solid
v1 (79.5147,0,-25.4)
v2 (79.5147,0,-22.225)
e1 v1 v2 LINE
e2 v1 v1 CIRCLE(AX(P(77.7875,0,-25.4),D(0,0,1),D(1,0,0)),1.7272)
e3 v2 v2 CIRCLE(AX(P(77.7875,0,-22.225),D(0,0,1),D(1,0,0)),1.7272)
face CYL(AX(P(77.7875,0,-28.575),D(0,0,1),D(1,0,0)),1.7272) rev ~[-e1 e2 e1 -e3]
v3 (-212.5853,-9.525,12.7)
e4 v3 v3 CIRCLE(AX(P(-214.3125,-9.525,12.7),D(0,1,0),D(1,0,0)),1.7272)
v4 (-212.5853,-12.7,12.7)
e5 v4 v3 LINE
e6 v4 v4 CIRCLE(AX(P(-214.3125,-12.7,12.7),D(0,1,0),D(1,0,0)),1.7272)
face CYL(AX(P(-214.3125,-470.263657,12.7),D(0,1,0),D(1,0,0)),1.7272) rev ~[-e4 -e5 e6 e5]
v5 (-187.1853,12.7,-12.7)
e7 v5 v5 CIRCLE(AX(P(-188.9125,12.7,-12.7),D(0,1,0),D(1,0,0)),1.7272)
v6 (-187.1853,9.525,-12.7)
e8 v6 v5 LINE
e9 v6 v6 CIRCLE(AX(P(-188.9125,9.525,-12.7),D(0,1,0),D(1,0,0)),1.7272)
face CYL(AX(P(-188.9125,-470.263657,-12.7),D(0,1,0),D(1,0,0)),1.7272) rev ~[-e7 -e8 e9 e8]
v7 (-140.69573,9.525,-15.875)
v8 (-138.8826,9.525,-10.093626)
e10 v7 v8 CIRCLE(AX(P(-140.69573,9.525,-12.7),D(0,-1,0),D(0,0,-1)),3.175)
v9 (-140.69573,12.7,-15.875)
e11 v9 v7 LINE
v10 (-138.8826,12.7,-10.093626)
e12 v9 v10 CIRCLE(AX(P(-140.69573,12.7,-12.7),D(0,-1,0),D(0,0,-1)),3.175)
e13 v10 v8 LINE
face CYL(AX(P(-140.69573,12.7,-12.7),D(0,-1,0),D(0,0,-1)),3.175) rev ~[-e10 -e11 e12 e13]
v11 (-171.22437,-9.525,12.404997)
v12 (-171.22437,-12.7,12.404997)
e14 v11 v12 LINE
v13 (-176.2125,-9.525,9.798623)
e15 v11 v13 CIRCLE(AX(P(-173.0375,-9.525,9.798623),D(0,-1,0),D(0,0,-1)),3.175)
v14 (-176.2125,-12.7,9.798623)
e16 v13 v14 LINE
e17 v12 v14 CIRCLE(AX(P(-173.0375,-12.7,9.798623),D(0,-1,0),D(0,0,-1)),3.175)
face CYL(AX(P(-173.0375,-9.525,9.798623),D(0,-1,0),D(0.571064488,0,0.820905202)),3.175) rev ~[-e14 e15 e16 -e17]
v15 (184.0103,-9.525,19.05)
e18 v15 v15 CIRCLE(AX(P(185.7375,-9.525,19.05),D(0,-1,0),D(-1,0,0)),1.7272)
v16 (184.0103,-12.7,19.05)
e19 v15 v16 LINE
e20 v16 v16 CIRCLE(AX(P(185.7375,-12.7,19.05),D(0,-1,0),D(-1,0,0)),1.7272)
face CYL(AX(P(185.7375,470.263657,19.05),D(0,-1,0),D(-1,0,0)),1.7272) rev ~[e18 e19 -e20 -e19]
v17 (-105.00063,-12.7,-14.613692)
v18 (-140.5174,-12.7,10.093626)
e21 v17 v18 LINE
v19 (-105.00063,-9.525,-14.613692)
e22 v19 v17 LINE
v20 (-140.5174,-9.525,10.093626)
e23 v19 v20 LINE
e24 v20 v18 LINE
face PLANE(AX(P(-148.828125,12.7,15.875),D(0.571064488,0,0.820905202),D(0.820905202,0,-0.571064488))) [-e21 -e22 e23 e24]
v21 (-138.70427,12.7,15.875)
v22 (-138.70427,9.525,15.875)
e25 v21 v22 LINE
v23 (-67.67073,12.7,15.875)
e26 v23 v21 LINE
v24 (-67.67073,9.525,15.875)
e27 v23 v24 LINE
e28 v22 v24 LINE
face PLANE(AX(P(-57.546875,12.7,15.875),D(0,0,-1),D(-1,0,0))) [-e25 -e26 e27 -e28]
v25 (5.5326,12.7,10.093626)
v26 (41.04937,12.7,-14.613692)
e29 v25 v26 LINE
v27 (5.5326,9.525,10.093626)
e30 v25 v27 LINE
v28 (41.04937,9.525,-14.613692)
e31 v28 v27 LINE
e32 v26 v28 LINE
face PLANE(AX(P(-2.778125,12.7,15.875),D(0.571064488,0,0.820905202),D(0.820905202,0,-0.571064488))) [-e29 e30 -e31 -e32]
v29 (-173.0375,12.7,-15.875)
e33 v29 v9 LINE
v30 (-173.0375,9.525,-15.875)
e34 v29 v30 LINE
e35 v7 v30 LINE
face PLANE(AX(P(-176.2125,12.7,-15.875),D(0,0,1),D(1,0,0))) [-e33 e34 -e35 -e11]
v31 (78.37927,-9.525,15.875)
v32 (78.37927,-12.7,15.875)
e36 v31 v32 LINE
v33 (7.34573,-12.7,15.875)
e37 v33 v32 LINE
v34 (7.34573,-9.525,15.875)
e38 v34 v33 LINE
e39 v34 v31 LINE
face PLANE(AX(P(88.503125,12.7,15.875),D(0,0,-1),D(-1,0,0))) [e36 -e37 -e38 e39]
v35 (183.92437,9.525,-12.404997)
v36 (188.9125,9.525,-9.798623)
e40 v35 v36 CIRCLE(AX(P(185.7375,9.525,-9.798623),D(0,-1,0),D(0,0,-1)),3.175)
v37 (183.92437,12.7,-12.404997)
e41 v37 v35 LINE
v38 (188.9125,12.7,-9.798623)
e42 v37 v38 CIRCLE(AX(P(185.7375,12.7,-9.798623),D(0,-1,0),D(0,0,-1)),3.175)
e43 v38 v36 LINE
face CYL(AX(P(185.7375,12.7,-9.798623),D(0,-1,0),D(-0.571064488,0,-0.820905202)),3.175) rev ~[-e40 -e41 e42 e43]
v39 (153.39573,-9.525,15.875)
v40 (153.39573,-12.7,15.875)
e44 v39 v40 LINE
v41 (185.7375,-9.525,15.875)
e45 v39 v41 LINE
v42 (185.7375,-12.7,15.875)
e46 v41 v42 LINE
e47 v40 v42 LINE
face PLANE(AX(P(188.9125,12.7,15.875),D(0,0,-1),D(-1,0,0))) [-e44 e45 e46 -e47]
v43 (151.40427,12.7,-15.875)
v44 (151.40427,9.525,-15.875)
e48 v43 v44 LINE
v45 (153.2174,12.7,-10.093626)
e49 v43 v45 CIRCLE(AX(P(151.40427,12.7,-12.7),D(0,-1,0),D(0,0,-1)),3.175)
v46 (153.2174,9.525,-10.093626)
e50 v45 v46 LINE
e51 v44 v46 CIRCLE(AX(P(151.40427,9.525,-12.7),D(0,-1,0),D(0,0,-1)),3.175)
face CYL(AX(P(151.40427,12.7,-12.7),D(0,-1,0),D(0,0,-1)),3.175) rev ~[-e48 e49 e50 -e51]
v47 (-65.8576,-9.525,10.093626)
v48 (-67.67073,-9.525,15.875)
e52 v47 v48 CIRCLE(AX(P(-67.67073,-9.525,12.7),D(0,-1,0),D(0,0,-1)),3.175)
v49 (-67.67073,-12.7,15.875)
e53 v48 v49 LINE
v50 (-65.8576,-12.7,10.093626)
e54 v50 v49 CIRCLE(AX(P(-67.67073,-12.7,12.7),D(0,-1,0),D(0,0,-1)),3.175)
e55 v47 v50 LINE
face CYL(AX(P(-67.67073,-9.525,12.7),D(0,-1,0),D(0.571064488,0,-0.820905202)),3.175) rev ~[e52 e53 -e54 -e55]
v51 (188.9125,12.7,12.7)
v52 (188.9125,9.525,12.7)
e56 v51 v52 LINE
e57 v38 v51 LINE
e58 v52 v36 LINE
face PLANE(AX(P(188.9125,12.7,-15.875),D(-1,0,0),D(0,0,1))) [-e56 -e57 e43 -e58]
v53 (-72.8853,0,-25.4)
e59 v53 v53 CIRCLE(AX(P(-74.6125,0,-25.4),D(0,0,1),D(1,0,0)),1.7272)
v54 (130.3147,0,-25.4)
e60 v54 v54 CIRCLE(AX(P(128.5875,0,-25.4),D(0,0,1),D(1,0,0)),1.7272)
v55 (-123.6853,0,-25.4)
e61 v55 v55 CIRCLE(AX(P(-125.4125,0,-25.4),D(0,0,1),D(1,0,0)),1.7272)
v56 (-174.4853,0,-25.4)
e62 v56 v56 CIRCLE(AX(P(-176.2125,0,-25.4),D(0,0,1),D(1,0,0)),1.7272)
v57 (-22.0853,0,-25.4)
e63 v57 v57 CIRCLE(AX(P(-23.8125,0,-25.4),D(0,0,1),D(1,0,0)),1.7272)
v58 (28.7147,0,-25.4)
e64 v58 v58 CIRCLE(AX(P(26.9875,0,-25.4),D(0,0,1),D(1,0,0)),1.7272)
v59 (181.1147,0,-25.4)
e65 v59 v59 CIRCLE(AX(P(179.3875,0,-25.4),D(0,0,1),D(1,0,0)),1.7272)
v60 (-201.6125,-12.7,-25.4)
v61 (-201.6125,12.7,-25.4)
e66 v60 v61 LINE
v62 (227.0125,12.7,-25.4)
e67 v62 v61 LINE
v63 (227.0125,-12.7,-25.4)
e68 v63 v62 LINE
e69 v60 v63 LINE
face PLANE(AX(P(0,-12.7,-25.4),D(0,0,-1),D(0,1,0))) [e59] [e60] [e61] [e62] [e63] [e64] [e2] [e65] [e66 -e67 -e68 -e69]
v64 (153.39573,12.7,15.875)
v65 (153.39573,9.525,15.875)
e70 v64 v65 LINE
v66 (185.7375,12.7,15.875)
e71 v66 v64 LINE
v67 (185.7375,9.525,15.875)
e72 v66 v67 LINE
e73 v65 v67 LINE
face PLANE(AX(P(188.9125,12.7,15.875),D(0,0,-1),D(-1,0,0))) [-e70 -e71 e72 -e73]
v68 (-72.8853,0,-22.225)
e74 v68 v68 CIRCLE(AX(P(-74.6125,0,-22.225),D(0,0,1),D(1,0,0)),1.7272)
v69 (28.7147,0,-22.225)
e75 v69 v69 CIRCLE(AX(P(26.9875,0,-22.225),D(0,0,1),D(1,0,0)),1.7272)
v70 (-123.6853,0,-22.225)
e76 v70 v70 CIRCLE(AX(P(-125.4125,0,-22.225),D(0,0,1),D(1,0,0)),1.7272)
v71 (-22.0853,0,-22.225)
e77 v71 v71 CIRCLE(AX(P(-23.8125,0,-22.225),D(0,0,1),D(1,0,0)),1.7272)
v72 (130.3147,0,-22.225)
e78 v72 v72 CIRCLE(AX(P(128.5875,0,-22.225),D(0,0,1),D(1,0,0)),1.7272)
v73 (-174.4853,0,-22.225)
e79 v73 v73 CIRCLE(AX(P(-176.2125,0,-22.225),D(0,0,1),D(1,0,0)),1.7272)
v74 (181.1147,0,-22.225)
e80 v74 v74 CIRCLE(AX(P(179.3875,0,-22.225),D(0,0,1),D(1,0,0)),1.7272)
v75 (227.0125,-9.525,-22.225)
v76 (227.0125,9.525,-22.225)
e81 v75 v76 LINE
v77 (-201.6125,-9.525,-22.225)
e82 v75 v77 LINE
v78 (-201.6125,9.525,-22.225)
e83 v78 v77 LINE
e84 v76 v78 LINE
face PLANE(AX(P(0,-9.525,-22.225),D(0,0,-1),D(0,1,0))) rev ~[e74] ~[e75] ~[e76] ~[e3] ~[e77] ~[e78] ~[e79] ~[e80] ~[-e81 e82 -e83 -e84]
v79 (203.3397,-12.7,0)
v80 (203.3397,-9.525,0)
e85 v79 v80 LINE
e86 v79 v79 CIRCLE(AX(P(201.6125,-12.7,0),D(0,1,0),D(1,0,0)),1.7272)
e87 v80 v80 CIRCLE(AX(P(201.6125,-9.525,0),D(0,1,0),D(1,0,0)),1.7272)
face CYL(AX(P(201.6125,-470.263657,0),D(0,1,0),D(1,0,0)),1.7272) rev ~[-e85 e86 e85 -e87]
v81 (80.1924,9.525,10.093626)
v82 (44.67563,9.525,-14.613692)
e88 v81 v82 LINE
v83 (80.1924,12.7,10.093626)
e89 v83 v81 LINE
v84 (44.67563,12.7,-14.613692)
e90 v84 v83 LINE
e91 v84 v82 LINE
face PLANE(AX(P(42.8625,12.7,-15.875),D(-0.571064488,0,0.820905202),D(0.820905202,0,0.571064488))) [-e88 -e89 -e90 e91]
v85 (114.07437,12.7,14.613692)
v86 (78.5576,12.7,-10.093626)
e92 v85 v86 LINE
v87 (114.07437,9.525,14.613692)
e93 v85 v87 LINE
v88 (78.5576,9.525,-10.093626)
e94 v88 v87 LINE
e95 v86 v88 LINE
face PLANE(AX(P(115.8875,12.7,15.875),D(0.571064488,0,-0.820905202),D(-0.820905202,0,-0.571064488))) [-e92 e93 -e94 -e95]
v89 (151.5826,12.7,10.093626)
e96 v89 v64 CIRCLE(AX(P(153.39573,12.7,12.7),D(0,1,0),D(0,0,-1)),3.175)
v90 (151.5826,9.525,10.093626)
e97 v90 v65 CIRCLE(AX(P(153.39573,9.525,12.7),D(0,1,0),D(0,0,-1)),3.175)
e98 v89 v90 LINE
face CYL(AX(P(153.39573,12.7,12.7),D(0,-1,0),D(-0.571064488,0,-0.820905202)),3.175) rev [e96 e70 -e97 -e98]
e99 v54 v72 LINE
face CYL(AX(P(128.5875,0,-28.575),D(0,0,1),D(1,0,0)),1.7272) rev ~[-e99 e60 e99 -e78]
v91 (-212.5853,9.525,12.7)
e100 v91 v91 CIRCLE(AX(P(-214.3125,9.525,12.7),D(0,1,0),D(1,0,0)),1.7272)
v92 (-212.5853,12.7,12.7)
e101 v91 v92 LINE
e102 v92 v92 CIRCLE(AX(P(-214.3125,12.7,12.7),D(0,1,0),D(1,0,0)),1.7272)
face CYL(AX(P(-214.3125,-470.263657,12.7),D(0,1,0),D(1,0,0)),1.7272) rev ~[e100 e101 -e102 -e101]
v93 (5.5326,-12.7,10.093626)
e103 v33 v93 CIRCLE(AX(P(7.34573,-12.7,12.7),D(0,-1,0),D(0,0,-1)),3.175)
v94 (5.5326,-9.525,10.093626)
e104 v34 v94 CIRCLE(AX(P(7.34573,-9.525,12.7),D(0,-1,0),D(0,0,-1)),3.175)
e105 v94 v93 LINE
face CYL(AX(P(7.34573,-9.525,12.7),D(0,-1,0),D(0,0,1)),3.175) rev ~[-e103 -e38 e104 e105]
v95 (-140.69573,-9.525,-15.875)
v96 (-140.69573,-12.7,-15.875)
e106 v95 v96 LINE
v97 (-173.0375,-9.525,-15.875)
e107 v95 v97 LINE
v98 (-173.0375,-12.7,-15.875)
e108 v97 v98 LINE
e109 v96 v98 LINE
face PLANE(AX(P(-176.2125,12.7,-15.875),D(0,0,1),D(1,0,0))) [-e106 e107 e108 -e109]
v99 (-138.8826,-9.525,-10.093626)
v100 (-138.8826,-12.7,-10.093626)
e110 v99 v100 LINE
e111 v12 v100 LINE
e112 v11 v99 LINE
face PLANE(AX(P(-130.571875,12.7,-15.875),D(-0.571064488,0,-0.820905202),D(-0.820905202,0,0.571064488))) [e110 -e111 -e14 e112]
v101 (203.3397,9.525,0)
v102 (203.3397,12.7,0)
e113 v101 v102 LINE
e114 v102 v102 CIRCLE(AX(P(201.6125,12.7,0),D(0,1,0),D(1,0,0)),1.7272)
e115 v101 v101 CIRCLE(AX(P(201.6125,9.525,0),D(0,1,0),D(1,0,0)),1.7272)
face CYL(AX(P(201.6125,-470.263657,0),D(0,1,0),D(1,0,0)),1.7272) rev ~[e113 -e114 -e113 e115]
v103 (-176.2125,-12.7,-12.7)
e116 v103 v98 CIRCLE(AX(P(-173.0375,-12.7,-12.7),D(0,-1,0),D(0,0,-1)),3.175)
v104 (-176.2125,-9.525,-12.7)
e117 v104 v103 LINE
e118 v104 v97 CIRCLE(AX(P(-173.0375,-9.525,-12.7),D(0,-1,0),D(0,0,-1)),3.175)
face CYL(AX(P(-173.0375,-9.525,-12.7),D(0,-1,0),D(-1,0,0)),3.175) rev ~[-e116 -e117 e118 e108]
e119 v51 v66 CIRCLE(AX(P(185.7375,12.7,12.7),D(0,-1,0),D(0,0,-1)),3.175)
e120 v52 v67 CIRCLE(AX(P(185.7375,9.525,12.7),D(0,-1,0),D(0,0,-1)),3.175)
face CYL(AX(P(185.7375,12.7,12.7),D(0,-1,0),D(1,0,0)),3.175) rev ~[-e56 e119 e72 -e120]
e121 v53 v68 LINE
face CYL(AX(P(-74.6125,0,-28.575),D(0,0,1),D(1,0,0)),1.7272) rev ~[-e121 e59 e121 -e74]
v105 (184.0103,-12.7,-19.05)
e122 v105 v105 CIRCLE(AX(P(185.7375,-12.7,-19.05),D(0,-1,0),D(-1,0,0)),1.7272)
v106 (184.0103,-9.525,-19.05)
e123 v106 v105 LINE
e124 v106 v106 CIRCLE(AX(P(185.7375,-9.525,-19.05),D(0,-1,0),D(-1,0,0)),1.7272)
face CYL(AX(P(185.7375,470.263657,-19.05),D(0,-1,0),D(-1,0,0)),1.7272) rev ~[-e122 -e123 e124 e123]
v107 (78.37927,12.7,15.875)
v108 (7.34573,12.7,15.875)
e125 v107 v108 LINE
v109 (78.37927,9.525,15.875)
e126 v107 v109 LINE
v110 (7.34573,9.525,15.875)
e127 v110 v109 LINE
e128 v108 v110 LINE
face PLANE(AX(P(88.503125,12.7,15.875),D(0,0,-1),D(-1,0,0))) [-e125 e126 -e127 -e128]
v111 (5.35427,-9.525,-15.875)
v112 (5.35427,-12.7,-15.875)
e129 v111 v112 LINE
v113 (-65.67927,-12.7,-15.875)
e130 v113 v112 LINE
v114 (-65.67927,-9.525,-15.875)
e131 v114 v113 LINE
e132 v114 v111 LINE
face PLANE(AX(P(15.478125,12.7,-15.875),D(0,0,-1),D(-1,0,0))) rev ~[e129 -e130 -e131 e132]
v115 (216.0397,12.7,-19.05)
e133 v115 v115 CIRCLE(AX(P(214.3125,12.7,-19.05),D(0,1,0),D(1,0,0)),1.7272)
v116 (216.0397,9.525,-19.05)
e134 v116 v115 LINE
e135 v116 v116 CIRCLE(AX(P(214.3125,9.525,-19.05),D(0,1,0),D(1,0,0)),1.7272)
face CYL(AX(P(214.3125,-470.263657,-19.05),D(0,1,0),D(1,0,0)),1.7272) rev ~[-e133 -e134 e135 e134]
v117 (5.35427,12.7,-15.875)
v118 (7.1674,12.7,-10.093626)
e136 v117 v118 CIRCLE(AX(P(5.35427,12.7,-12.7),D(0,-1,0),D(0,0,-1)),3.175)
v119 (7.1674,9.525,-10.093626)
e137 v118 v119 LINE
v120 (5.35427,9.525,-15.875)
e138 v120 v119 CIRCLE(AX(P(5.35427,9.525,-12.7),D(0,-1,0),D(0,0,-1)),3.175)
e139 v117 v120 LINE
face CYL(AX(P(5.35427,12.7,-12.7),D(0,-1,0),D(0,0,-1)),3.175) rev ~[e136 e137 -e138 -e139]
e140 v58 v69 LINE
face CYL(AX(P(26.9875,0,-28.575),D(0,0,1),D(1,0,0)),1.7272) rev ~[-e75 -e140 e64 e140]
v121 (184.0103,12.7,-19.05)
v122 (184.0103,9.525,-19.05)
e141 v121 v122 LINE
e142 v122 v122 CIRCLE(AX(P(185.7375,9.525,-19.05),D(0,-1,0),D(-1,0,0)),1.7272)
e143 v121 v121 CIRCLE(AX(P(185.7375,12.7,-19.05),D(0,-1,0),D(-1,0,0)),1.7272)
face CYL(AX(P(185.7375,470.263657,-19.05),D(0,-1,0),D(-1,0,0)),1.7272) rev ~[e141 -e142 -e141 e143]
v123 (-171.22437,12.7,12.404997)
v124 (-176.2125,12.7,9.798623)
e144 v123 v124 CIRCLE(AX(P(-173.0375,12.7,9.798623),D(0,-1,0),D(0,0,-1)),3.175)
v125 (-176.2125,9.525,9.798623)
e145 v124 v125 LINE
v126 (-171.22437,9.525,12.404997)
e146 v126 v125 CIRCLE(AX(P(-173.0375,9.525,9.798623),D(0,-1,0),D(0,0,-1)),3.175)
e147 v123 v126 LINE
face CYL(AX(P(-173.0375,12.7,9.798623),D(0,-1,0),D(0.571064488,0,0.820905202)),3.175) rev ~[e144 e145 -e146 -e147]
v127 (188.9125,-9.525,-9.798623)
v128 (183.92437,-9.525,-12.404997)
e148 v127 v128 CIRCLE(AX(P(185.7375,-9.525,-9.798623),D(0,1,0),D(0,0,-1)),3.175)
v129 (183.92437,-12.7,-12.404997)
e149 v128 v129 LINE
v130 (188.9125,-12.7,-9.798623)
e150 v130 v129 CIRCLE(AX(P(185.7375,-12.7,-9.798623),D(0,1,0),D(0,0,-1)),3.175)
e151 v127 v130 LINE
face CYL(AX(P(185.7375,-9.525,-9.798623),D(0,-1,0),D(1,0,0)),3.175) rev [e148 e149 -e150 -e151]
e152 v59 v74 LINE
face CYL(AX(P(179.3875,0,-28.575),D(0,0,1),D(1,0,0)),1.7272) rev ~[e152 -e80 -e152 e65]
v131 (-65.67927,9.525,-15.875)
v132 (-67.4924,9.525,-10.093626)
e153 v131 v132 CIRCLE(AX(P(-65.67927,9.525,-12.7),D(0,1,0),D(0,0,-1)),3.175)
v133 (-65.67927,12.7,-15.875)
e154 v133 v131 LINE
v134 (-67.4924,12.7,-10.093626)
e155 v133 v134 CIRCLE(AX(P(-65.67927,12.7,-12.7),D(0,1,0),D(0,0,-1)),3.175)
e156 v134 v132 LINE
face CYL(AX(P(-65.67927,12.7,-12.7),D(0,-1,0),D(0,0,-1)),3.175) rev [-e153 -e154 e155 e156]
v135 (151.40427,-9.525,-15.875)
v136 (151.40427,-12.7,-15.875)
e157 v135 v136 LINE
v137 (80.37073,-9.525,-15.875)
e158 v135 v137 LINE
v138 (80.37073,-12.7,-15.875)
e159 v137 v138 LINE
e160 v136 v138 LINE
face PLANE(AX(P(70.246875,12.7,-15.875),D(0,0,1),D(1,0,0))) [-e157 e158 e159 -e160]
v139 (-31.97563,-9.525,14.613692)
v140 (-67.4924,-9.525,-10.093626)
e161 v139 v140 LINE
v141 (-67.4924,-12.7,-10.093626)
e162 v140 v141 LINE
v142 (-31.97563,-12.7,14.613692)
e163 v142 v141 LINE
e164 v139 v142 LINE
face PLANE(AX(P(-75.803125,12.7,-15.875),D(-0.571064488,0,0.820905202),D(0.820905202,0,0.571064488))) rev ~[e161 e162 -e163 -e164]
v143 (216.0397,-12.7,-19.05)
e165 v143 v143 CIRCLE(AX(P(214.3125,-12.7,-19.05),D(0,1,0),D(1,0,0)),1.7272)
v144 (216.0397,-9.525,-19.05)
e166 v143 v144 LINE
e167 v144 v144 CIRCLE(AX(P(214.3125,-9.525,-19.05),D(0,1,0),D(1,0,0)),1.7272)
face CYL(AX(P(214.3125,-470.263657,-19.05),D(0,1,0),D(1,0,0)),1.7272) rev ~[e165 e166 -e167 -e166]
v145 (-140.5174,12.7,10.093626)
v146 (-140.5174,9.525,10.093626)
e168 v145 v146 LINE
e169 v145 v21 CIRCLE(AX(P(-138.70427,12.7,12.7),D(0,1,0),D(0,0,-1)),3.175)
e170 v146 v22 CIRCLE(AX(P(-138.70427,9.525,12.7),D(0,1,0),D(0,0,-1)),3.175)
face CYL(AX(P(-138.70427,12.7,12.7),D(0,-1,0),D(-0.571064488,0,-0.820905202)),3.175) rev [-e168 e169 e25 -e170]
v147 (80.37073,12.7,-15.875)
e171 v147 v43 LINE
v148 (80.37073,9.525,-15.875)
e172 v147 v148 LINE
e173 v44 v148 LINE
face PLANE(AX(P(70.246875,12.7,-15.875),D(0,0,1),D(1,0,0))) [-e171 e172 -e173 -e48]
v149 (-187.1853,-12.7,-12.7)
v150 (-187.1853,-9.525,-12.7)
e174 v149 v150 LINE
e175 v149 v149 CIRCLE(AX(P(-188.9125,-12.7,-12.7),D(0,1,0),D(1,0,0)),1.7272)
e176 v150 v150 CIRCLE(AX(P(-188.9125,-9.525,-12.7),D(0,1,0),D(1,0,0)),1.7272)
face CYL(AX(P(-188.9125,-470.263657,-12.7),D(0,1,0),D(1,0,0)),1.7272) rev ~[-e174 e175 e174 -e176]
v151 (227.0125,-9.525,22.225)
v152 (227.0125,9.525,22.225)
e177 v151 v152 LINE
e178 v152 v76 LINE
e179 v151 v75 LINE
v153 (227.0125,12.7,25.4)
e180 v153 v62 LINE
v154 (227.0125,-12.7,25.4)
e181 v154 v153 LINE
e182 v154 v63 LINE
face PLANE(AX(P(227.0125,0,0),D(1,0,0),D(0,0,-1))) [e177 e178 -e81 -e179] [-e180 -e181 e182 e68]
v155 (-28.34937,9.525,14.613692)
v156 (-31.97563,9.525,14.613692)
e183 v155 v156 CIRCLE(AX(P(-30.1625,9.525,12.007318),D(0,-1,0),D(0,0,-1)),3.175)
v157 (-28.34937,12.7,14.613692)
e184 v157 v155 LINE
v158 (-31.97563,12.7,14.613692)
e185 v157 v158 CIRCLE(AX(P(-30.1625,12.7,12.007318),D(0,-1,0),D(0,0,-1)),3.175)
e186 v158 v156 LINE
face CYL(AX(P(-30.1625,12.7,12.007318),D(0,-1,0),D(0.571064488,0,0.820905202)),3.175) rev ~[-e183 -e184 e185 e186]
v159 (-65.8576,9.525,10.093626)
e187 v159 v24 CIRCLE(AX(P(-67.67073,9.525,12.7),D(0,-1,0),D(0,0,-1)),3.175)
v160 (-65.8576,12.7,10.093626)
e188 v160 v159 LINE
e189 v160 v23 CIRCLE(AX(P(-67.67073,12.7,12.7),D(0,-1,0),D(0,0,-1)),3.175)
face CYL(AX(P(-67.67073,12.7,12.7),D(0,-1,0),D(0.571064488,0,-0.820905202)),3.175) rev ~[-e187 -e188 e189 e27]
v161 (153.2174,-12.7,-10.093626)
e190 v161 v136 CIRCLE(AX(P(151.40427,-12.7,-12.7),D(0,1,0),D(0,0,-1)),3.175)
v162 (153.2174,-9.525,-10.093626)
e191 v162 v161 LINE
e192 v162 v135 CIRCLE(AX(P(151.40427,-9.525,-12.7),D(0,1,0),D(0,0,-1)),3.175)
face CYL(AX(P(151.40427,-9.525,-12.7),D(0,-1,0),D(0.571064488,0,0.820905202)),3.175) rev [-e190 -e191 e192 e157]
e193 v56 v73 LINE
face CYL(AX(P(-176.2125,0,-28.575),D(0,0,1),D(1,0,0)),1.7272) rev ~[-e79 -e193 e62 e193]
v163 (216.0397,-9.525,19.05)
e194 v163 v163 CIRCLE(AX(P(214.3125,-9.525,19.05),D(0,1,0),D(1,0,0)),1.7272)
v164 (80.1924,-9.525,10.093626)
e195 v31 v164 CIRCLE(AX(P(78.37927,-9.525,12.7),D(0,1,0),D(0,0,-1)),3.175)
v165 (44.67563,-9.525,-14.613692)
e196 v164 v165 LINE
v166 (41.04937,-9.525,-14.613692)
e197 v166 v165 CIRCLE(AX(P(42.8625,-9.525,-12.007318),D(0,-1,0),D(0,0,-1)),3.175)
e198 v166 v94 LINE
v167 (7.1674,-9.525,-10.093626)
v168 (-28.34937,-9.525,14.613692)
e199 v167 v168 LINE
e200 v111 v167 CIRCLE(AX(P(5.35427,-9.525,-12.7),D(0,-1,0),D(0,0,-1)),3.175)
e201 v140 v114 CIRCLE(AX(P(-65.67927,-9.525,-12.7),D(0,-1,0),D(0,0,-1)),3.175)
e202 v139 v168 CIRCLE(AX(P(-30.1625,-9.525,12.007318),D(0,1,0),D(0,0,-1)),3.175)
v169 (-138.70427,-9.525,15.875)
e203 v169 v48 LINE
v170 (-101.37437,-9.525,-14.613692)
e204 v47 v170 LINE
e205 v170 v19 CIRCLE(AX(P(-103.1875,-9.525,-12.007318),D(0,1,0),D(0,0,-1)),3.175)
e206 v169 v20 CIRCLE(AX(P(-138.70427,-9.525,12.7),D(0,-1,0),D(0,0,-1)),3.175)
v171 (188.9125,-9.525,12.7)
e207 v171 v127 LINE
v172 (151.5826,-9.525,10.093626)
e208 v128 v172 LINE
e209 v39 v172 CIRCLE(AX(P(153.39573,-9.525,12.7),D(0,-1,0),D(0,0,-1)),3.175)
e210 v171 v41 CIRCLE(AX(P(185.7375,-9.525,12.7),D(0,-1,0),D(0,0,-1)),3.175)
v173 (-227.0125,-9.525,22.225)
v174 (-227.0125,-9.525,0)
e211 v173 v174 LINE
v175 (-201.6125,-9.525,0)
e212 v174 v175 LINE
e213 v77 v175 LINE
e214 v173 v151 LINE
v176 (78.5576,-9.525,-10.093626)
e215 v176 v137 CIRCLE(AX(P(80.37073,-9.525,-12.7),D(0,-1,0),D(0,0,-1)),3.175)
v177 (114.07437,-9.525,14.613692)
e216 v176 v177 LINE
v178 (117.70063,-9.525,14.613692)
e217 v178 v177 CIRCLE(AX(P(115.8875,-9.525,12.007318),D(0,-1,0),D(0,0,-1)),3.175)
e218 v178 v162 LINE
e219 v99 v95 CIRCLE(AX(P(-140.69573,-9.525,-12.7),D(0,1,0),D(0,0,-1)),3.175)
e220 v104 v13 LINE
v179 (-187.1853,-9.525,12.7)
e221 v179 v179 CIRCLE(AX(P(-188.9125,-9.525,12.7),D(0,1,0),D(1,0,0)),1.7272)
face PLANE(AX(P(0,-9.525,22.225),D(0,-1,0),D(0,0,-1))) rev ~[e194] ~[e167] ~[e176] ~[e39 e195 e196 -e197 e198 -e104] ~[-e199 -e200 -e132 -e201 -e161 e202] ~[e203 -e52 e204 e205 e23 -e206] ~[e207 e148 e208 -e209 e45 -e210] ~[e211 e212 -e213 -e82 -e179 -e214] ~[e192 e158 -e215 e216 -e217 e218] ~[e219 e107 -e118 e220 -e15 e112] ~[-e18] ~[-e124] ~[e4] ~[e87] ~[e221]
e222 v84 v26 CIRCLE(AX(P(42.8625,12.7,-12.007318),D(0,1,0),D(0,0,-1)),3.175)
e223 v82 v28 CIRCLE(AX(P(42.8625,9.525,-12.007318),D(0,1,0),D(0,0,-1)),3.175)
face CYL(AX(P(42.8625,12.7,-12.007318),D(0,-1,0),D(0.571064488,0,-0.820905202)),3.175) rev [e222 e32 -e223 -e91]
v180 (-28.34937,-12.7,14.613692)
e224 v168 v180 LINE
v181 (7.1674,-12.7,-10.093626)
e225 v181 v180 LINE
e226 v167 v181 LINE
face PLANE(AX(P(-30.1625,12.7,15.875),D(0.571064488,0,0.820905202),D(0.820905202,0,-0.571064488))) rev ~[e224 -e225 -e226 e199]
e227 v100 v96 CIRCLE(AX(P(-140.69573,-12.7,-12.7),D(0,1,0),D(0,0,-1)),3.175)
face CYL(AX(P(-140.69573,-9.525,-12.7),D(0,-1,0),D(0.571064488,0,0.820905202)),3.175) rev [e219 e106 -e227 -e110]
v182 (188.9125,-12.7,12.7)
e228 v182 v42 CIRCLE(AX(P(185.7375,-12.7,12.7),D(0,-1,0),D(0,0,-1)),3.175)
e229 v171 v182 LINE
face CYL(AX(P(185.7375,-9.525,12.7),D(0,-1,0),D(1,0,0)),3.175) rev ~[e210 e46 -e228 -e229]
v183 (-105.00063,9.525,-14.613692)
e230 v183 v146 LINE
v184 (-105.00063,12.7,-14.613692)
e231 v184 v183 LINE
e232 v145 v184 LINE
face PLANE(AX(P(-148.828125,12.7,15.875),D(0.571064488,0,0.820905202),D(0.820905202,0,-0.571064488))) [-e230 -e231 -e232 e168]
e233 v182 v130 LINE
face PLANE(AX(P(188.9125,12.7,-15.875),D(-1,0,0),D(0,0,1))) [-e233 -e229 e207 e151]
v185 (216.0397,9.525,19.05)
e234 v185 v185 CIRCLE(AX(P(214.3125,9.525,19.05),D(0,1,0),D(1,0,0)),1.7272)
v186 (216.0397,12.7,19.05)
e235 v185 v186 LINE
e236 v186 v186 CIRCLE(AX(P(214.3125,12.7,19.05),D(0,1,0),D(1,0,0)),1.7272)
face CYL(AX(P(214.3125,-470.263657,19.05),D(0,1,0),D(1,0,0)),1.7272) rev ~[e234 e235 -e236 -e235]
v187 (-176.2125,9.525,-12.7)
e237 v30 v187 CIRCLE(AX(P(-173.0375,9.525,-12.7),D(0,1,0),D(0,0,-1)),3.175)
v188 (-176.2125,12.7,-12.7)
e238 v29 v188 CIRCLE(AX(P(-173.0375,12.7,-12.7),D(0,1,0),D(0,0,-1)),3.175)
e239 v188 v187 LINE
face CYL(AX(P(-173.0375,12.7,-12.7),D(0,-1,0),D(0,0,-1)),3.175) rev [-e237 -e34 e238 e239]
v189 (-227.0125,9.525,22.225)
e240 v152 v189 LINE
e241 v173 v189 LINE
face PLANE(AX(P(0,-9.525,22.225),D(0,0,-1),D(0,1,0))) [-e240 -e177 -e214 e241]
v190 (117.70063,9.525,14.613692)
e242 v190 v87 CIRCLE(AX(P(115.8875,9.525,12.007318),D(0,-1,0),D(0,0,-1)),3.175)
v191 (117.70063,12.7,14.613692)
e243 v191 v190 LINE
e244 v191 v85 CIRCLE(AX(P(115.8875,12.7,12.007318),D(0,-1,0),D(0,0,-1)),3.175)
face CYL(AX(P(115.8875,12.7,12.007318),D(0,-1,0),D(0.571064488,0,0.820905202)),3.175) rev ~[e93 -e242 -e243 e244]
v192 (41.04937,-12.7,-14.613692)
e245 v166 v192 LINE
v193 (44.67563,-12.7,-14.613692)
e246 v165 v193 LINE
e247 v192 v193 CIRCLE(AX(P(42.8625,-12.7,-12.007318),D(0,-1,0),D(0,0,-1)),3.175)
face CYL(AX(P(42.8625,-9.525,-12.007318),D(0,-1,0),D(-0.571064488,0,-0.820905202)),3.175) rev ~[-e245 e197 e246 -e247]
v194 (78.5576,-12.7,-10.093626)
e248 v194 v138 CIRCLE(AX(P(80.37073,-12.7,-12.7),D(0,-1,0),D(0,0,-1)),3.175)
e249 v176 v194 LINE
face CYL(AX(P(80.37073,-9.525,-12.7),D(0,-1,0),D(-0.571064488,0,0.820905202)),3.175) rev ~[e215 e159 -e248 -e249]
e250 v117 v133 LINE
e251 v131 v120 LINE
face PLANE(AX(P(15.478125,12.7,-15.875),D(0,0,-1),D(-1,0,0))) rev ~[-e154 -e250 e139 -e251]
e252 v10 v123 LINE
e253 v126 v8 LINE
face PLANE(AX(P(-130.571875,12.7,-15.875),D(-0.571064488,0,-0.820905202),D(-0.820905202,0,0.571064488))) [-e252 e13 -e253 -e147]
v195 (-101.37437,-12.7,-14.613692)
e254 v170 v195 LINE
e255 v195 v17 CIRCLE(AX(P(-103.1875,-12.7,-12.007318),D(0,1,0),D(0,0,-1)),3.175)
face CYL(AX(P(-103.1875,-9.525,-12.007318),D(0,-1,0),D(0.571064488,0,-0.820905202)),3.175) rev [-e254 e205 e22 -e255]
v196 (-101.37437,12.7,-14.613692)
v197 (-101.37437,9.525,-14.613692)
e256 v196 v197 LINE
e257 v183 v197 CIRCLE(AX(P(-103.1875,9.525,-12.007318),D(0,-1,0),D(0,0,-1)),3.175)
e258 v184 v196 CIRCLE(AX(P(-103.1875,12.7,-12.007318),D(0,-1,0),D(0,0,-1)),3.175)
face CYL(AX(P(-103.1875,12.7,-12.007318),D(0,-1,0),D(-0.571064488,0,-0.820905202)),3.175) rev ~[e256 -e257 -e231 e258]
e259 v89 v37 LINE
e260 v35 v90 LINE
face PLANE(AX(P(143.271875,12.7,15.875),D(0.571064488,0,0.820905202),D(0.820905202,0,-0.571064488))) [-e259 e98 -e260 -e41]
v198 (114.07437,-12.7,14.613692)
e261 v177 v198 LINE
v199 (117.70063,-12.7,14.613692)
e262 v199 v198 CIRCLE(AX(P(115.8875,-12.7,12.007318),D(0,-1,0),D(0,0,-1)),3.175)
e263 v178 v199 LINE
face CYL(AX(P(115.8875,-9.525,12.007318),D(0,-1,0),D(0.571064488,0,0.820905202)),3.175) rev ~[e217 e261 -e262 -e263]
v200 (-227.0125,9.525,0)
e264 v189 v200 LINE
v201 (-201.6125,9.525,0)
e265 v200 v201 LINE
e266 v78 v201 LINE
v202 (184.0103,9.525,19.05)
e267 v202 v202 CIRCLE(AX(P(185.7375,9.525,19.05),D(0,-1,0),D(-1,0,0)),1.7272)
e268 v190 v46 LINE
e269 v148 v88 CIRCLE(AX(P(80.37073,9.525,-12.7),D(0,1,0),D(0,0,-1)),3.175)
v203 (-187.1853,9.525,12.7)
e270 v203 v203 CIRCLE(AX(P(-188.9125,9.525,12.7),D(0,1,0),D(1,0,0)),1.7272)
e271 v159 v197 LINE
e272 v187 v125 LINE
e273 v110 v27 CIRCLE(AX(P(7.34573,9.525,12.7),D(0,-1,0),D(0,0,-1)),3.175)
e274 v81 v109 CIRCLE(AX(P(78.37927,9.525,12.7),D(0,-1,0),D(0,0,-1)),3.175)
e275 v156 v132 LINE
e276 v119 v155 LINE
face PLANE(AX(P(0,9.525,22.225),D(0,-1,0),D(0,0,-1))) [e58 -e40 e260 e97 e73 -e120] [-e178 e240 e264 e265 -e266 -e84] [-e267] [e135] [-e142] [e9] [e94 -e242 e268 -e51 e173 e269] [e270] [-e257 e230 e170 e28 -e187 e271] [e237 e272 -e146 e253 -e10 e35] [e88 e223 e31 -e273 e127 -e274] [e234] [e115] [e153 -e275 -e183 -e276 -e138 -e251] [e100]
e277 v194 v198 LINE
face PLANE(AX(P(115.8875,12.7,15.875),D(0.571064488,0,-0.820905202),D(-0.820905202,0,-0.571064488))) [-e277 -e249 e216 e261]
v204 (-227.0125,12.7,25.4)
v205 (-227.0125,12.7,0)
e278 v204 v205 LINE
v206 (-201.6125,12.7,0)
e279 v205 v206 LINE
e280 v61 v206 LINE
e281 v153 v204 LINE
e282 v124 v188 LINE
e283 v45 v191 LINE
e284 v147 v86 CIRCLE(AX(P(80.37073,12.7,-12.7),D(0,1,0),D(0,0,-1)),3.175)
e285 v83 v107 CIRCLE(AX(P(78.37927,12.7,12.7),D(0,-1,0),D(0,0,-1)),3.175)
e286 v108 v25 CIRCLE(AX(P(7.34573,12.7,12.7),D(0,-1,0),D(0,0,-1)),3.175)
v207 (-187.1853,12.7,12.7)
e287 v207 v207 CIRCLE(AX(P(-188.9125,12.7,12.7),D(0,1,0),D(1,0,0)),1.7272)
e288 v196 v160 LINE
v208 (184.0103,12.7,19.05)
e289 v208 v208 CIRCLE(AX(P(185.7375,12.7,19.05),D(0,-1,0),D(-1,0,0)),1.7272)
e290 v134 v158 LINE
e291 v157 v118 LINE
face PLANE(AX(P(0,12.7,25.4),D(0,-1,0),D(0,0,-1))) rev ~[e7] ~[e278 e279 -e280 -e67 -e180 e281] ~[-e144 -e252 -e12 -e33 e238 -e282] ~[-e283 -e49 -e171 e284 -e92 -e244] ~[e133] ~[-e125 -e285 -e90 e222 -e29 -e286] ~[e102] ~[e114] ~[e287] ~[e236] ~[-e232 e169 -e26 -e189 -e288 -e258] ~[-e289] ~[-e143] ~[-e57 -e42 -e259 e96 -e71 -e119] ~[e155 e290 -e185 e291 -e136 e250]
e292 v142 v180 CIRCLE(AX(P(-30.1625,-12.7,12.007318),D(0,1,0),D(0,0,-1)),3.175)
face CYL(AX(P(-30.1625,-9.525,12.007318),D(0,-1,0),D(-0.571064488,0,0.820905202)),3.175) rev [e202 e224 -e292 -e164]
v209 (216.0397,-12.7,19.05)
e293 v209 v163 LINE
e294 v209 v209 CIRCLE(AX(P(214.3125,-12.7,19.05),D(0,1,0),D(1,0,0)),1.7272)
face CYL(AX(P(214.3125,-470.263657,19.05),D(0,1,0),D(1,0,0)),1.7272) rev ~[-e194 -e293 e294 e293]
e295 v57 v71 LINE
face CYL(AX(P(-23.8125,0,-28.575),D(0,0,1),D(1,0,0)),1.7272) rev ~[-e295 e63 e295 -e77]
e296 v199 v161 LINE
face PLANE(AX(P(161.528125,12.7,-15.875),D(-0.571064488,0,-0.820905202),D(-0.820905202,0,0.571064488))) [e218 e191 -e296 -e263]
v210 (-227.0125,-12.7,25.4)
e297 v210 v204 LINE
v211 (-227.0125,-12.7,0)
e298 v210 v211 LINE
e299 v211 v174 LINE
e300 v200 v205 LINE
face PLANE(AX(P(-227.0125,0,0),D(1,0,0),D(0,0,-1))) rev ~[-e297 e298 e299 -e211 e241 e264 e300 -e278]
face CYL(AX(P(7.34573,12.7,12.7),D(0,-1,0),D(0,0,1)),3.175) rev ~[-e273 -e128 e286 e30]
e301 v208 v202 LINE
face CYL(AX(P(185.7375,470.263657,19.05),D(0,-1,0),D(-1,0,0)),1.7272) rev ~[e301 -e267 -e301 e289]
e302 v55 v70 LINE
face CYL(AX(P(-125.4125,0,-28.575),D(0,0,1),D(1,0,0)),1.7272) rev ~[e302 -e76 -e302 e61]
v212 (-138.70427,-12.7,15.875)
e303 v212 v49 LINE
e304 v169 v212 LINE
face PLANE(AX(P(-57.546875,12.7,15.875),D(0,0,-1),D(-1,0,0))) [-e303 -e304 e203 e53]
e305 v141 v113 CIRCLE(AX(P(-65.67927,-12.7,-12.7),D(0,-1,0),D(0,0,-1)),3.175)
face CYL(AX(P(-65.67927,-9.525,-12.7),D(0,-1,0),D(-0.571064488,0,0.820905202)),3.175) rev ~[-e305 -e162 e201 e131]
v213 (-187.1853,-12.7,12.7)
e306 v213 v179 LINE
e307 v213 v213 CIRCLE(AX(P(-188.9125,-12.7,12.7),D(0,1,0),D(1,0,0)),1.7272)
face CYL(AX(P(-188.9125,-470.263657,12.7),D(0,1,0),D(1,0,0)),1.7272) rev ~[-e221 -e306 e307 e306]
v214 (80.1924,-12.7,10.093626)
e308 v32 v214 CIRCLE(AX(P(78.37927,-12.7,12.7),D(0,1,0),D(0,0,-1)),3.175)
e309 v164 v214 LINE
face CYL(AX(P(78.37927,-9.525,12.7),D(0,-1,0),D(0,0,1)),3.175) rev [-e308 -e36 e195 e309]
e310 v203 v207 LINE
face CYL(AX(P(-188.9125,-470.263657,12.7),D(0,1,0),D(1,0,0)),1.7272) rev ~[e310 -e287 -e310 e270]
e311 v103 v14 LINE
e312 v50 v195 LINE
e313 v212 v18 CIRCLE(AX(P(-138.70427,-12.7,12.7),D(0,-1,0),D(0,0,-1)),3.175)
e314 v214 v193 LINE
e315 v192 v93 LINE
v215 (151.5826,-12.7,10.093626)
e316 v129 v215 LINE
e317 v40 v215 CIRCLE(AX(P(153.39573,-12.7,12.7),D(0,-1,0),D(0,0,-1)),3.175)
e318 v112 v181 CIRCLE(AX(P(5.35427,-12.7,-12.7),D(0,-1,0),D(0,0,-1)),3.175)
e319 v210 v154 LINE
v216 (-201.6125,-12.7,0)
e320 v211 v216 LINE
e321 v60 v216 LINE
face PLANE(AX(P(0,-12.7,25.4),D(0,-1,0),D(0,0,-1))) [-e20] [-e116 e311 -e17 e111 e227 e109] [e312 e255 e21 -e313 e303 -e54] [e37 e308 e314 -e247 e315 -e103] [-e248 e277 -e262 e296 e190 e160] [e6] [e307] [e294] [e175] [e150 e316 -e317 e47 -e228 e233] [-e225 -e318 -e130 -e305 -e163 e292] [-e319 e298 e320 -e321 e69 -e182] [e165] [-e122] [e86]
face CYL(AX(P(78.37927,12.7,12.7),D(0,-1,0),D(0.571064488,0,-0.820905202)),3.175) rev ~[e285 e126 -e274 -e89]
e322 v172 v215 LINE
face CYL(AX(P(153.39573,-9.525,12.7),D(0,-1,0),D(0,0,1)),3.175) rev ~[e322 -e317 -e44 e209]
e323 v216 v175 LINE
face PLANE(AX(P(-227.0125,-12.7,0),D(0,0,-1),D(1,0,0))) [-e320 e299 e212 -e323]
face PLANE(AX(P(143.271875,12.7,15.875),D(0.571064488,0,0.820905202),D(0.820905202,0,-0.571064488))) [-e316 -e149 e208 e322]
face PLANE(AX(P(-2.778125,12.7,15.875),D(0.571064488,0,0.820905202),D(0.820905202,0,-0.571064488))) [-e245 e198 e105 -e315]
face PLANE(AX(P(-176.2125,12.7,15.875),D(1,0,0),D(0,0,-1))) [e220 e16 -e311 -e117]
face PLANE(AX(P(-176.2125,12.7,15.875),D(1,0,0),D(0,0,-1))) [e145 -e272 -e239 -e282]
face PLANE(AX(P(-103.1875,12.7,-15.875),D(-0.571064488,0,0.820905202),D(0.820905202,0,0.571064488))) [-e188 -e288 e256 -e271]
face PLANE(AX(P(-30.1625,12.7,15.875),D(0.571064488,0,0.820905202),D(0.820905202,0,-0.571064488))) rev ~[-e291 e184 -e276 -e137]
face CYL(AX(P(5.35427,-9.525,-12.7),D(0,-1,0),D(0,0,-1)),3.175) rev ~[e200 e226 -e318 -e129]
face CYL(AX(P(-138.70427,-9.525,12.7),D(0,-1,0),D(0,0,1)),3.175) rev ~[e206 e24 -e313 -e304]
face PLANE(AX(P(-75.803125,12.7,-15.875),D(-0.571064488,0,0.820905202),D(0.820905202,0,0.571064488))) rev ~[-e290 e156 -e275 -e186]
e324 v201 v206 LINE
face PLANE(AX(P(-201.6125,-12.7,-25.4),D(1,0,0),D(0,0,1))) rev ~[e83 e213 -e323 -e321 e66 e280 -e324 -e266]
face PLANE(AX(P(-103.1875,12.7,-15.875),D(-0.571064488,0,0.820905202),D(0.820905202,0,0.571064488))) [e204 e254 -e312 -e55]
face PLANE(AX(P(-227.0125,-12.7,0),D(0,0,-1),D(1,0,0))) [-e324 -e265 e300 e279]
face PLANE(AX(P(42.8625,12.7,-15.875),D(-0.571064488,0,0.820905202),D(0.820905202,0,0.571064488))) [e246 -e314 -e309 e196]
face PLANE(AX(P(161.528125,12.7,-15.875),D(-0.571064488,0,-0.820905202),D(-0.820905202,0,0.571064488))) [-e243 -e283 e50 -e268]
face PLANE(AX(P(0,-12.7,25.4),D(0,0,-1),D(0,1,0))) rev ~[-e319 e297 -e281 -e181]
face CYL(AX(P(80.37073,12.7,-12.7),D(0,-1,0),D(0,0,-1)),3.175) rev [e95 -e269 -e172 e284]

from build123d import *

# Parameters (mm, degrees)
SKETCH1_W                 = 50.8
SKETCH1_H                 = 25.4
SKETCH1_W_2               = 44.45
SKETCH1_H_2               = 19.05
BOSS_EXTRUDE1_DEPTH       = 227.0125
SKETCH2_W                 = 25.4
SKETCH2_H                 = 25.4
CUT_EXTRUDE1_DEPTH        = 230.836888154
F_8_32_TAPPED_HOLE1_D     = 3.4544
CUT_EXTRUDE2_DEPTH        = 230.836888154
FILLET1_R                 = 3.175
F_8_32_TAPPED_HOLE2_D     = 3.4544
F_8_32_TAPPED_HOLE2_DEPTH = 3.175
F_8_32_TAPPED_HOLE3_D     = 3.4544


with BuildPart() as part:
    # Sketch1 → Boss-Extrude1 (new, symmetric)
    with BuildSketch(Plane(origin=(0, 0, 0), x_dir=(0, 0, -1), z_dir=(1, 0, 0))):
        Rectangle(SKETCH1_W, SKETCH1_H)
        Rectangle(SKETCH1_W_2, SKETCH1_H_2, mode=Mode.SUBTRACT)
    extrude(amount=BOSS_EXTRUDE1_DEPTH, both=True)

    # Sketch2 → Cut-Extrude1 (cut, through all)
    with BuildSketch(Plane.XZ.offset(12.7)):
        with Locations((-214.3125, -12.7)):
            Rectangle(SKETCH2_W, SKETCH2_H)
    extrude(amount=-CUT_EXTRUDE1_DEPTH, mode=Mode.SUBTRACT)

    # #8-32 Tapped Hole1 (through all)
    with Locations(Plane(origin=(0, -12.7, 0), x_dir=(-1, 0, 0), z_dir=(0, -1, 0))):
        with Locations((-214.3125, 19.05), (-214.3125, -19.05), (-201.6125, 0), (188.9125, 12.7), (188.9125, -12.7), (214.3125, -12.7)):
            Hole(F_8_32_TAPPED_HOLE1_D / 2)

    # Sketch7 → Cut-Extrude2 (cut, through all)
    with BuildSketch(Plane(origin=(0, 12.7, 0), x_dir=(1, 0, 0), z_dir=(0, 1, 0))):
        Polygon((-176.2125, 15.875), (-130.571875, 15.875), (-176.2125, -15.875), align=None)
        Polygon((-148.828125, -15.875), (-103.1875, 15.875), (-57.546875, -15.875), align=None)
        Polygon((-75.803125, 15.875), (-30.1625, -15.875), (15.478125, 15.875), align=None)
        Polygon((42.8625, 15.875), (88.503125, -15.875), (-2.778125, -15.875), align=None)
        Polygon((70.246875, 15.875), (161.528125, 15.875), (115.8875, -15.875), align=None)
        Polygon((143.271875, -15.875), (188.9125, 15.875), (188.9125, -15.875), align=None)
    extrude(amount=-CUT_EXTRUDE2_DEPTH, mode=Mode.SUBTRACT)

    # Fillet1
    fillet1_edges = [part.edges().sort_by_distance(p)[0] for p in [
        (-176.2125, 11.1125, 15.875),
        (-176.2125, 11.1125, -15.875),
        (-130.571875, 11.1125, -15.875),
        (-176.2125, -11.1125, 15.875),
        (-176.2125, -11.1125, -15.875),
        (-130.571875, -11.1125, -15.875),
        (-57.546875, 11.1125, 15.875),
        (-148.828125, 11.1125, 15.875),
        (-103.1875, 11.1125, -15.875),
        (-57.546875, -11.1125, 15.875),
        (-148.828125, -11.1125, 15.875),
        (-103.1875, -11.1125, -15.875),
        (-75.803125, 11.1125, -15.875),
        (15.478125, 11.1125, -15.875),
        (-30.1625, 11.1125, 15.875),
        (-75.803125, -11.1125, -15.875),
        (15.478125, -11.1125, -15.875),
        (-30.1625, -11.1125, 15.875),
        (-2.778125, 11.1125, 15.875),
        (42.8625, 11.1125, -15.875),
        (88.503125, 11.1125, 15.875),
        (-2.778125, -11.1125, 15.875),
        (42.8625, -11.1125, -15.875),
        (88.503125, -11.1125, 15.875),
        (115.8875, 11.1125, 15.875),
        (70.246875, 11.1125, -15.875),
        (161.528125, 11.1125, -15.875),
        (115.8875, -11.1125, 15.875),
        (70.246875, -11.1125, -15.875),
        (161.528125, -11.1125, -15.875),
        (188.9125, 11.1125, 15.875),
        (143.271875, 11.1125, 15.875),
        (188.9125, 11.1125, -15.875),
        (188.9125, -11.1125, 15.875),
        (143.271875, -11.1125, 15.875),
        (188.9125, -11.1125, -15.875),
    ]]
    fillet(fillet1_edges, radius=FILLET1_R)

    # #8-32 Tapped Hole2
    with Locations(Plane(origin=(0, 0, -25.4), x_dir=(-1, 0, 0), z_dir=(0, 0, -1))):
        with Locations((176.2125, 0), (125.4125, 0), (74.6125, 0), (23.8125, 0), (-26.9875, 0), (-77.7875, 0), (-128.5875, 0), (-179.3875, 0)):
            Hole(F_8_32_TAPPED_HOLE2_D / 2, depth=F_8_32_TAPPED_HOLE2_DEPTH)

    # #8-32 Tapped Hole3 (through all)
    with Locations(Plane(origin=(0, 12.7, 0), x_dir=(1, 0, 0), z_dir=(0, 1, 0))):
        with Locations((185.7375, 19.05), (185.7375, -19.05)):
            Hole(F_8_32_TAPPED_HOLE3_D / 2)


solid = part.part
